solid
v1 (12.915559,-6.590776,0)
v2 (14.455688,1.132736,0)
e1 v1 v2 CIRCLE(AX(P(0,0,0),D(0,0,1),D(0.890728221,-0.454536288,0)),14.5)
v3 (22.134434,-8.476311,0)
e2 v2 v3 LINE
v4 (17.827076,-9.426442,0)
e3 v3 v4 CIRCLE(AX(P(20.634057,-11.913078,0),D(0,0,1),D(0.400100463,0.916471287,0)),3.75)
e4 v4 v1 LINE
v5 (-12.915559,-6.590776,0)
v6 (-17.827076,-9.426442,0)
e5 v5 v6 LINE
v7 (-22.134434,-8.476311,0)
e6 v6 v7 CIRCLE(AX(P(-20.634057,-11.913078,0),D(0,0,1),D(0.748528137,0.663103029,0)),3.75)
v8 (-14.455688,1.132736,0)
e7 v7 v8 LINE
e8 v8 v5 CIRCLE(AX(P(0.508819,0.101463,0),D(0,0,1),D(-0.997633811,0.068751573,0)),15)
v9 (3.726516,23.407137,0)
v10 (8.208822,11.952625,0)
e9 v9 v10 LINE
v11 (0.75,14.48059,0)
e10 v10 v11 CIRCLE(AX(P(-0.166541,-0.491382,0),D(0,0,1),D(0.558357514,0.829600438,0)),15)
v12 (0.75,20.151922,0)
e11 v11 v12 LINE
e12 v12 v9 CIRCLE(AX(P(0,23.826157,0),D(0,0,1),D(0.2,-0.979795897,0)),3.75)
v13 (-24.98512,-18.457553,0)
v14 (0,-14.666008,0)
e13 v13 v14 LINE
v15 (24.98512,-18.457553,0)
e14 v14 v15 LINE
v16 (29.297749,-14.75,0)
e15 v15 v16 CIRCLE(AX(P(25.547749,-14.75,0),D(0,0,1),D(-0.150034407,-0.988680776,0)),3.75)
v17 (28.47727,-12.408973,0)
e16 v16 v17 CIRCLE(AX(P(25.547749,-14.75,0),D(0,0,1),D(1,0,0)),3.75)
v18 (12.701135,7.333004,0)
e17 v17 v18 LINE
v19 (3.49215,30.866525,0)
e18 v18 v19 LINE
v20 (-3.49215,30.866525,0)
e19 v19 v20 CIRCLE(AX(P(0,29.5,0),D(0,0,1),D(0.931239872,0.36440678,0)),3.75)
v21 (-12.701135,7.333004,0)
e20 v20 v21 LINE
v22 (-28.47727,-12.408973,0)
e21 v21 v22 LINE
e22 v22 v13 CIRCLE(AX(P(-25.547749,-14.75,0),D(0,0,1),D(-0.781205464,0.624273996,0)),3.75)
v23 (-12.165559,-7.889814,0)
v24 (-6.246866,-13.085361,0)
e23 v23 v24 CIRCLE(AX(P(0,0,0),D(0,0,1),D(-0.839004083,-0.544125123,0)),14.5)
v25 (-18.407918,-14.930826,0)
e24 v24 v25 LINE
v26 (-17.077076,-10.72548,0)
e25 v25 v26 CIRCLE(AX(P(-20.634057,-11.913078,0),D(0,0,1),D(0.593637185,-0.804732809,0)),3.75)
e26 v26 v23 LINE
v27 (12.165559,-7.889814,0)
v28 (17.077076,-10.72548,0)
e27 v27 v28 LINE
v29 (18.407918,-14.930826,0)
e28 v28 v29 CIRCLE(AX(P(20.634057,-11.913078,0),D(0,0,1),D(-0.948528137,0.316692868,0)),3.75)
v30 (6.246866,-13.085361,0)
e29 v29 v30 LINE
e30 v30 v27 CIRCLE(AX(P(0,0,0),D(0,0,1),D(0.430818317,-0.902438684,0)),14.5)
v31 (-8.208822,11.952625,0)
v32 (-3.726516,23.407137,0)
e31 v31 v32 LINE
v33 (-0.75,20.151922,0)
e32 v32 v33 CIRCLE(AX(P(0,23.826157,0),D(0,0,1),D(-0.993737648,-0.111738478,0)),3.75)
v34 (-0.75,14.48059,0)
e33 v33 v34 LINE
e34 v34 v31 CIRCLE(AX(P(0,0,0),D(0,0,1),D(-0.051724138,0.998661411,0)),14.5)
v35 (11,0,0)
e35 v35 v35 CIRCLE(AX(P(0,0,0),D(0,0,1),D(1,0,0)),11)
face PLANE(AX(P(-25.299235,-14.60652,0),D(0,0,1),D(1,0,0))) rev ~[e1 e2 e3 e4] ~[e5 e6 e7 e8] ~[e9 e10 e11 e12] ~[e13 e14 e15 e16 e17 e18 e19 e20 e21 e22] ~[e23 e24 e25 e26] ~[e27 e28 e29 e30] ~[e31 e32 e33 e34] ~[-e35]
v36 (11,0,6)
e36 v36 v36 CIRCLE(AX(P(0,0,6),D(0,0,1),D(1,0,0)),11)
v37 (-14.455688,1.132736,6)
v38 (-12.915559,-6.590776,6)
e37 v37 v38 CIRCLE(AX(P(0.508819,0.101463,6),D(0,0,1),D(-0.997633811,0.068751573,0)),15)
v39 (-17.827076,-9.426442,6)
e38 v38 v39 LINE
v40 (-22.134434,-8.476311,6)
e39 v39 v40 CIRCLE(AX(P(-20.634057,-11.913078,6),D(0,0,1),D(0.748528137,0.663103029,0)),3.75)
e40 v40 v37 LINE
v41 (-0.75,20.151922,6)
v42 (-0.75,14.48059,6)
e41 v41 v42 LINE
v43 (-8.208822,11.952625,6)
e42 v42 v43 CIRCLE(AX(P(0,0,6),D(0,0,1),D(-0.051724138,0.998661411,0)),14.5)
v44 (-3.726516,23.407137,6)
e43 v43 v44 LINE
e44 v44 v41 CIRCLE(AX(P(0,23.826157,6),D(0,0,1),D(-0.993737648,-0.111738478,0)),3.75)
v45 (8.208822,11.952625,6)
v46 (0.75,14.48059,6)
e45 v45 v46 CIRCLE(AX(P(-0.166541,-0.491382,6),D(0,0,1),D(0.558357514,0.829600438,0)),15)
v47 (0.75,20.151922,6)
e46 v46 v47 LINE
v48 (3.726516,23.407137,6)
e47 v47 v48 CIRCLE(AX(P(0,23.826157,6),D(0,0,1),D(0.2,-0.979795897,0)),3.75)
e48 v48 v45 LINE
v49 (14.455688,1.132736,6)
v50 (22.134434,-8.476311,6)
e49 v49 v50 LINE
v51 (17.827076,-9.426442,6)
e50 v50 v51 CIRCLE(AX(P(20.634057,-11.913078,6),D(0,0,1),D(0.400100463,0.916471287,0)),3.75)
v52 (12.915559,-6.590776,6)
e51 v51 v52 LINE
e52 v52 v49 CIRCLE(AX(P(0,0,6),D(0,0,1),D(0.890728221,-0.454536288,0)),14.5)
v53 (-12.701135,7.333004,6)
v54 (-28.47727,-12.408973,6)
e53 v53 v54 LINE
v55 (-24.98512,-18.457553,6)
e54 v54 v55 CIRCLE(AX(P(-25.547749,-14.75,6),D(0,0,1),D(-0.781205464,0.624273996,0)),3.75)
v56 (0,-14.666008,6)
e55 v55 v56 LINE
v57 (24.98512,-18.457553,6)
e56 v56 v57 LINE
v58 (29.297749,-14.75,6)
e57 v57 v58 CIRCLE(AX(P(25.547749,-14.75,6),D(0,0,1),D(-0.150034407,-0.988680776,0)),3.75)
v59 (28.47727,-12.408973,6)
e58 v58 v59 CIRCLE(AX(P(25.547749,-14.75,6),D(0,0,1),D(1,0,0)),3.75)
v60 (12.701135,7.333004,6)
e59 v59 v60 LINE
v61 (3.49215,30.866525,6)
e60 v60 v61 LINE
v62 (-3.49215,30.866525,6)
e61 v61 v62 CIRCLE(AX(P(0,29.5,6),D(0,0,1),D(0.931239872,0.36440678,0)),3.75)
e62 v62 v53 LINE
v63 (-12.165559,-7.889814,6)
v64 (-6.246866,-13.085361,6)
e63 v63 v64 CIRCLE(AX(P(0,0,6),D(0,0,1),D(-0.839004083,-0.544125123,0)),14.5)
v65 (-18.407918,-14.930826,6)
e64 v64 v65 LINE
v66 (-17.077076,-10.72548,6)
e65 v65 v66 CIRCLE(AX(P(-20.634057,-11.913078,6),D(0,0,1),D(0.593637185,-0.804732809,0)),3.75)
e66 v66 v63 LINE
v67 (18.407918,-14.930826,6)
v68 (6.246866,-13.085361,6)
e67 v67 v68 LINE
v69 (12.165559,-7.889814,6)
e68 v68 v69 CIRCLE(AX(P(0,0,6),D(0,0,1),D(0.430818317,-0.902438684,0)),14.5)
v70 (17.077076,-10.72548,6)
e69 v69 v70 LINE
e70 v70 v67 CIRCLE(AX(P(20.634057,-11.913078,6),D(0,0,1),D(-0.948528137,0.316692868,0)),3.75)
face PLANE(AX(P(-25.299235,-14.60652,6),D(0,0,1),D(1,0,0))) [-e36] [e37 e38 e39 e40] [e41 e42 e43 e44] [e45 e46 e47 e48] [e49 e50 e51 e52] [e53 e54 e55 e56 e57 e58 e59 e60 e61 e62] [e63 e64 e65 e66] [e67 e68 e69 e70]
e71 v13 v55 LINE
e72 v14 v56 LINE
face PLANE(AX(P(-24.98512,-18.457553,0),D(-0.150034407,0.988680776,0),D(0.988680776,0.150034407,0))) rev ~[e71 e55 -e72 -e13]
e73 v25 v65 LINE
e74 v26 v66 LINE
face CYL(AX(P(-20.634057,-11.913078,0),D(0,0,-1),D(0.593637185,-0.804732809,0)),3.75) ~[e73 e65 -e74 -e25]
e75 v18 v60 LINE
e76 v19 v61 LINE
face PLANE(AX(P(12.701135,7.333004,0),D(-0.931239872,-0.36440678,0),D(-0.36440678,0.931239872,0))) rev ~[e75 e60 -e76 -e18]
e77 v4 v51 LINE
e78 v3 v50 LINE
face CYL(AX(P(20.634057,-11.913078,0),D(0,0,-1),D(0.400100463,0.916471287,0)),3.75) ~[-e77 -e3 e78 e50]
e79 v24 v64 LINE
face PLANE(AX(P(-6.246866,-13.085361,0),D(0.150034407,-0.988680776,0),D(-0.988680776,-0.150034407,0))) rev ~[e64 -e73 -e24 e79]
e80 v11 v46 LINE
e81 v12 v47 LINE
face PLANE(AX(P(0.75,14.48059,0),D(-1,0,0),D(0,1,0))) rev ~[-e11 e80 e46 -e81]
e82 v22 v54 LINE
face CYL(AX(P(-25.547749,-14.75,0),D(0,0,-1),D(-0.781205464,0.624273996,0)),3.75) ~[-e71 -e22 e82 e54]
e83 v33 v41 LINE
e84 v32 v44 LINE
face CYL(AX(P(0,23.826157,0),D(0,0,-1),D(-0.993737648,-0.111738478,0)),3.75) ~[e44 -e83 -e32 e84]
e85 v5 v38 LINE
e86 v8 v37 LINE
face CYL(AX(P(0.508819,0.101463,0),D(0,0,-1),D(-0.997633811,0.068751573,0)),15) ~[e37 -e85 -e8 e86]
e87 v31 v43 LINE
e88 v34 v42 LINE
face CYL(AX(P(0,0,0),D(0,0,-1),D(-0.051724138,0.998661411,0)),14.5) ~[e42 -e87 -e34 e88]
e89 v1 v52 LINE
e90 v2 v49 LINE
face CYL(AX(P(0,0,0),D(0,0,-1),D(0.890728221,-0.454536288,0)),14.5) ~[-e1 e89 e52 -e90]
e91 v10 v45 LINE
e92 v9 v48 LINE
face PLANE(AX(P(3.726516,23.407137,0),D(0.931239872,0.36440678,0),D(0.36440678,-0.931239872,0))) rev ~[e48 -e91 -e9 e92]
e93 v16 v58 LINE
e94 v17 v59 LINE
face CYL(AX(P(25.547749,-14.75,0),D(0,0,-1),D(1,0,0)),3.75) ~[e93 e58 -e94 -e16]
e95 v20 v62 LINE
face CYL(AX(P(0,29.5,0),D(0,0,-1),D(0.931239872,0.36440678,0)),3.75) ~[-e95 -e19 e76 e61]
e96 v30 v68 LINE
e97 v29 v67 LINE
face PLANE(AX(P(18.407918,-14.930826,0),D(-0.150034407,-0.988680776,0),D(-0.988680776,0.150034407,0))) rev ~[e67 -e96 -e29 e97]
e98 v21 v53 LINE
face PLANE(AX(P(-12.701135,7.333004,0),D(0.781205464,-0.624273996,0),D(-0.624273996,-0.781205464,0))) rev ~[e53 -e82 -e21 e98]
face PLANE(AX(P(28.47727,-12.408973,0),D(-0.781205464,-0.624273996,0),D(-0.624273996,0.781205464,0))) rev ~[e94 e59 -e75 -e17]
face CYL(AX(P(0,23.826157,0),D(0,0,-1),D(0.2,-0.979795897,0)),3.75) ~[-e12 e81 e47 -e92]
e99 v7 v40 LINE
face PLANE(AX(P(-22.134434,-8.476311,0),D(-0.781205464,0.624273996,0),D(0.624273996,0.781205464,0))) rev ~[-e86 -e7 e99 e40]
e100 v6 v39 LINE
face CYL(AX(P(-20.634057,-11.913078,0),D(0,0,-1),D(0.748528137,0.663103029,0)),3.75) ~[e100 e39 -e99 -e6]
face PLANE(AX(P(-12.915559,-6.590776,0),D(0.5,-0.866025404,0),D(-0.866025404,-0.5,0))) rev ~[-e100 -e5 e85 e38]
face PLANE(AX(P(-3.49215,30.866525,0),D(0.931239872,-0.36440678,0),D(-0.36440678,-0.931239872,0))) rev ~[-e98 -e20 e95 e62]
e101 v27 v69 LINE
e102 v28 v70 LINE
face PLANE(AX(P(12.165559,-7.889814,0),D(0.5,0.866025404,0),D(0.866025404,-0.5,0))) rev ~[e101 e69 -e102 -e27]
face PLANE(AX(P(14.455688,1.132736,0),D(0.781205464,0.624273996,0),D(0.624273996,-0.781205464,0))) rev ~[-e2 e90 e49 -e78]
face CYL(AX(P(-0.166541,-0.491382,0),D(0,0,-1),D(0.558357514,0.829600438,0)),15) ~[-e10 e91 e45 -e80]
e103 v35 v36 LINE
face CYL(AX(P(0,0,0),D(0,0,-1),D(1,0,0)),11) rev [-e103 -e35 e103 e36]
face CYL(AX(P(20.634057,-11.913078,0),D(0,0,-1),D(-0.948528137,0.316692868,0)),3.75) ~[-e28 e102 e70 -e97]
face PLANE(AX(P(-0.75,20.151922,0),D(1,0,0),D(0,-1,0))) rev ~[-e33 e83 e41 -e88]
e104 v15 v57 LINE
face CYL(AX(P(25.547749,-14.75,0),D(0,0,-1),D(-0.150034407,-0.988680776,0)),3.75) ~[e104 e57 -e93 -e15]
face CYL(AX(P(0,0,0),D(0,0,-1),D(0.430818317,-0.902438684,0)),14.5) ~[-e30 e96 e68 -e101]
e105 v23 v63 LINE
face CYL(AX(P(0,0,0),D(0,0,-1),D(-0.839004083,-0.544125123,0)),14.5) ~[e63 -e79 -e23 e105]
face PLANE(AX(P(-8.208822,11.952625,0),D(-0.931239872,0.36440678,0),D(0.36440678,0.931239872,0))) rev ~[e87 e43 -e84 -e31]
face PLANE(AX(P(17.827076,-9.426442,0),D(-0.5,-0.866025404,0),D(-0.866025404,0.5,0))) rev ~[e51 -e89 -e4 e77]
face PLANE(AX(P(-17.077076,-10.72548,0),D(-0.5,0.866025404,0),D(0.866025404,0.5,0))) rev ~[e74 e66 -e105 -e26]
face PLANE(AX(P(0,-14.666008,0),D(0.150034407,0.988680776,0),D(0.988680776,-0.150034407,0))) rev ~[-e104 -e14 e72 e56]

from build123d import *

# Parameters (mm, degrees)
F0_R     = 11
F1_DEPTH = 6


with BuildPart() as f1:
    # F0 (on Top) → F1 (new body)
    with BuildSketch(Plane.XY):
        with BuildLine():
            Line((-23.4410374628, -14.399714693), (-21.9907688963, -13.5624017458))
            ThreePointArc((-21.9907688963, -13.5624017458), (-22.3001541474, -12.875), (-22.7407688963, -12.2633636401))
            Line((-22.7407688963, -12.2633636401), (-24.1910374628, -13.1006765873))
            ThreePointArc((-24.1910374628, -13.1006765873), (-24.3757674093, -12.1622827062), (-24.317114362, -11.2076790978))
            ThreePointArc((-24.317114362, -11.2076790978), (-26.5881000277, -11.1471996176), (-28.4772699032, -12.4089725142))
            ThreePointArc((-28.4772699032, -12.4089725142), (-28.7953446758, -16.625), (-24.9851203838, -18.4575529095))
            ThreePointArc((-24.9851203838, -18.4575529095), (-22.9478080637, -17.4523702536), (-21.8646919971, -15.4553992353))
            ThreePointArc((-21.8646919971, -15.4553992353), (-22.7207294962, -15.0288924601), (-23.4410374628, -14.399714693))
        make_face()
        with BuildLine():
            Line((-17.0770764321, -10.7254800788), (-12.1655591981, -7.8898142816))
            ThreePointArc((-12.1655591981, -7.8898142816), (-9.565708177, -10.8971201275), (-6.2468655995, -13.0853609114))
            Line((-6.2468655995, -13.0853609114), (-18.4079175052, -14.9308263649))
            Line((-18.4079175052, -14.9308263649), (-21.8646919971, -15.4553992353))
            ThreePointArc((-21.8646919971, -15.4553992353), (-22.9478080637, -17.4523702536), (-24.9851203838, -18.4575529095))
            Line((-24.9851203838, -18.4575529095), (0, -14.6660078296))
            Line((0, -14.6660078296), (24.9851203838, -18.4575529095))
            ThreePointArc((24.9851203838, -18.4575529095), (22.9478080637, -17.4523702536), (21.8646919971, -15.4553992353))
            Line((21.8646919971, -15.4553992353), (18.4079175052, -14.9308263649))
            Line((18.4079175052, -14.9308263649), (6.2468655995, -13.0853609114))
            ThreePointArc((6.2468655995, -13.0853609114), (9.565708177, -10.8971201275), (12.1655591981, -7.8898142816))
            Line((12.1655591981, -7.8898142816), (17.0770764321, -10.7254800788))
            ThreePointArc((17.0770764321, -10.7254800788), (17.3864616832, -10.0380783331), (17.8270764321, -9.4264419731))
            Line((17.8270764321, -9.4264419731), (12.9155591981, -6.5907761759))
            ThreePointArc((12.9155591981, -6.5907761759), (14.220036947, -2.8355862227), (14.4556877667, 1.1327361525))
            Line((14.4556877667, 1.1327361525), (22.1344336841, -8.4763110078))
            Line((22.1344336841, -8.4763110078), (24.317114362, -11.2076790978))
            ThreePointArc((24.317114362, -11.2076790978), (26.5881000277, -11.1471996176), (28.4772699032, -12.4089725142))
            Line((28.4772699032, -12.4089725142), (12.7011353526, 7.3330039148))
            Line((12.7011353526, 7.3330039148), (3.4921495195, 30.8665254237))
            ThreePointArc((3.4921495195, 30.8665254237), (0, 33.25), (-3.4921495195, 30.8665254237))
            Line((-3.4921495195, 30.8665254237), (-12.7011353526, 7.3330039148))
            Line((-12.7011353526, 7.3330039148), (-28.4772699032, -12.4089725142))
            ThreePointArc((-28.4772699032, -12.4089725142), (-26.5881000277, -11.1471996176), (-24.317114362, -11.2076790978))
            Line((-24.317114362, -11.2076790978), (-22.1344336841, -8.4763110078))
            Line((-22.1344336841, -8.4763110078), (-14.4556877667, 1.1327361525))
            ThreePointArc((-14.4556877667, 1.1327361525), (-14.2015636478, -2.8319025028), (-12.9155591981, -6.5907761759))
            Line((-12.9155591981, -6.5907761759), (-17.8270764321, -9.4264419731))
            ThreePointArc((-17.8270764321, -9.4264419731), (-17.3864616832, -10.0380783331), (-17.0770764321, -10.7254800788))
        make_face()
        Circle(F0_R, mode=Mode.SUBTRACT)
        with BuildLine():
            Line((-0.75, 27.5003912803), (-0.75, 20.151922052))
            Line((-0.75, 20.151922052), (-0.75, 14.4805904576))
            ThreePointArc((-0.75, 14.4805904576), (-4.65432877, 13.7327063502), (-8.2088221672, 11.9526247589))
            Line((-8.2088221672, 11.9526247589), (-3.7265161789, 23.4071373727))
            Line((-3.7265161789, 23.4071373727), (-2.4524223649, 26.6630783331))
            ThreePointArc((-2.4524223649, 26.6630783331), (-1.6550379131, 27.1911751663), (-0.75, 27.5003912803))
        make_face(mode=Mode.SUBTRACT)
        with BuildLine():
            ThreePointArc((0.75, 27.5003912803), (1.6550379131, 27.1911751663), (2.4524223649, 26.6630783331))
            Line((2.4524223649, 26.6630783331), (3.7265161789, 23.4071373727))
            Line((3.7265161789, 23.4071373727), (8.2088221672, 11.9526247589))
            ThreePointArc((8.2088221672, 11.9526247589), (4.6482823154, 13.7148661438), (0.75, 14.4805904576))
            Line((0.75, 14.4805904576), (0.75, 20.151922052))
            Line((0.75, 20.151922052), (0.75, 27.5003912803))
        make_face(mode=Mode.SUBTRACT)
        with BuildLine():
            ThreePointArc((21.8646919971, -15.4553992353), (22.9478080637, -17.4523702536), (24.9851203838, -18.4575529095))
            ThreePointArc((24.9851203838, -18.4575529095), (27.9924008332, -17.5936208304), (29.2977494116, -14.75))
            ThreePointArc((29.2977494116, -14.75), (29.0866900613, -13.5096778329), (28.4772699032, -12.4089725142))
            ThreePointArc((28.4772699032, -12.4089725142), (26.5881000277, -11.1471996176), (24.317114362, -11.2076790978))
            ThreePointArc((24.317114362, -11.2076790978), (24.3757674093, -12.1622827062), (24.1910374628, -13.1006765873))
            Line((24.1910374628, -13.1006765873), (22.7407688963, -12.2633636401))
            ThreePointArc((22.7407688963, -12.2633636401), (22.3001541474, -12.875), (21.9907688963, -13.5624017458))
            Line((21.9907688963, -13.5624017458), (23.4410374628, -14.399714693))
            ThreePointArc((23.4410374628, -14.399714693), (22.7207294962, -15.0288924601), (21.8646919971, -15.4553992353))
        make_face()
        with BuildLine():
            Line((-24.1910374628, -13.1006765873), (-22.7407688963, -12.2633636401))
            ThreePointArc((-22.7407688963, -12.2633636401), (-23.4610768628, -11.634185873), (-24.317114362, -11.2076790978))
            ThreePointArc((-24.317114362, -11.2076790978), (-24.3757674093, -12.1622827062), (-24.1910374628, -13.1006765873))
        make_face()
        with BuildLine():
            Line((-22.7407688963, -12.2633636401), (-17.8270764321, -9.4264419731))
            ThreePointArc((-17.8270764321, -9.4264419731), (-19.8262880625, -8.251110361), (-22.1344336841, -8.4763110078))
            Line((-22.1344336841, -8.4763110078), (-24.317114362, -11.2076790978))
            ThreePointArc((-24.317114362, -11.2076790978), (-23.4610768628, -11.634185873), (-22.7407688963, -12.2633636401))
        make_face()
        with BuildLine():
            ThreePointArc((-18.4079175052, -14.9308263649), (-17.0588152133, -13.0445139444), (-17.0770764321, -10.7254800788))
            Line((-17.0770764321, -10.7254800788), (-21.9907688963, -13.5624017458))
            ThreePointArc((-21.9907688963, -13.5624017458), (-21.8463188144, -14.1484091642), (-21.7977494116, -14.75))
            ThreePointArc((-21.7977494116, -14.75), (-21.8145225699, -15.1042842753), (-21.8646919971, -15.4553992353))
            Line((-21.8646919971, -15.4553992353), (-18.4079175052, -14.9308263649))
        make_face()
        with BuildLine():
            ThreePointArc((-21.7977494116, -14.75), (-21.8463188144, -14.1484091642), (-21.9907688963, -13.5624017458))
            Line((-21.9907688963, -13.5624017458), (-23.4410374628, -14.399714693))
            ThreePointArc((-23.4410374628, -14.399714693), (-22.7207294962, -15.0288924601), (-21.8646919971, -15.4553992353))
            ThreePointArc((-21.8646919971, -15.4553992353), (-21.8145225699, -15.1042842753), (-21.7977494116, -14.75))
        make_face()
        with BuildLine():
            Line((-21.9907688963, -13.5624017458), (-17.0770764321, -10.7254800788))
            ThreePointArc((-17.0770764321, -10.7254800788), (-17.3864616832, -10.0380783331), (-17.8270764321, -9.4264419731))
            Line((-17.8270764321, -9.4264419731), (-22.7407688963, -12.2633636401))
            ThreePointArc((-22.7407688963, -12.2633636401), (-22.3001541474, -12.875), (-21.9907688963, -13.5624017458))
        make_face()
        with BuildLine():
            Line((18.4079175052, -14.9308263649), (21.8646919971, -15.4553992353))
            ThreePointArc((21.8646919971, -15.4553992353), (21.8060389498, -14.5007956269), (21.9907688963, -13.5624017458))
            Line((21.9907688963, -13.5624017458), (17.0770764321, -10.7254800788))
            ThreePointArc((17.0770764321, -10.7254800788), (17.0588152133, -13.0445139444), (18.4079175052, -14.9308263649))
        make_face()
        with BuildLine():
            Line((17.8270764321, -9.4264419731), (22.7407688963, -12.2633636401))
            ThreePointArc((22.7407688963, -12.2633636401), (23.4610768628, -11.634185873), (24.317114362, -11.2076790978))
            Line((24.317114362, -11.2076790978), (22.1344336841, -8.4763110078))
            ThreePointArc((22.1344336841, -8.4763110078), (19.8262880625, -8.251110361), (17.8270764321, -9.4264419731))
        make_face()
        with BuildLine():
            Line((17.0770764321, -10.7254800788), (21.9907688963, -13.5624017458))
            ThreePointArc((21.9907688963, -13.5624017458), (22.3001541474, -12.875), (22.7407688963, -12.2633636401))
            Line((22.7407688963, -12.2633636401), (17.8270764321, -9.4264419731))
            ThreePointArc((17.8270764321, -9.4264419731), (17.3864616832, -10.0380783331), (17.0770764321, -10.7254800788))
        make_face()
        with BuildLine():
            ThreePointArc((-3.7265161789, 23.4071373727), (-2.7674728492, 21.2956243054), (-0.75, 20.151922052))
            Line((-0.75, 20.151922052), (-0.75, 27.5003912803))
            ThreePointArc((-0.75, 27.5003912803), (-1.6550379131, 27.1911751663), (-2.4524223649, 26.6630783331))
            Line((-2.4524223649, 26.6630783331), (-3.7265161789, 23.4071373727))
        make_face()
        with BuildLine():
            Line((3.7265161789, 23.4071373727), (2.4524223649, 26.6630783331))
            ThreePointArc((2.4524223649, 26.6630783331), (1.6550379131, 27.1911751663), (0.75, 27.5003912803))
            Line((0.75, 27.5003912803), (0.75, 20.151922052))
            ThreePointArc((0.75, 20.151922052), (2.7674728492, 21.2956243054), (3.7265161789, 23.4071373727))
        make_face()
        with BuildLine():
            ThreePointArc((24.317114362, -11.2076790978), (23.4610768628, -11.634185873), (22.7407688963, -12.2633636401))
            Line((22.7407688963, -12.2633636401), (24.1910374628, -13.1006765873))
            ThreePointArc((24.1910374628, -13.1006765873), (24.3757674093, -12.1622827062), (24.317114362, -11.2076790978))
        make_face()
        with BuildLine():
            ThreePointArc((21.9907688963, -13.5624017458), (21.8060389498, -14.5007956269), (21.8646919971, -15.4553992353))
            ThreePointArc((21.8646919971, -15.4553992353), (22.7207294962, -15.0288924601), (23.4410374628, -14.399714693))
            Line((23.4410374628, -14.399714693), (21.9907688963, -13.5624017458))
        make_face()
    extrude(amount=F1_DEPTH)


solid = f1.part
